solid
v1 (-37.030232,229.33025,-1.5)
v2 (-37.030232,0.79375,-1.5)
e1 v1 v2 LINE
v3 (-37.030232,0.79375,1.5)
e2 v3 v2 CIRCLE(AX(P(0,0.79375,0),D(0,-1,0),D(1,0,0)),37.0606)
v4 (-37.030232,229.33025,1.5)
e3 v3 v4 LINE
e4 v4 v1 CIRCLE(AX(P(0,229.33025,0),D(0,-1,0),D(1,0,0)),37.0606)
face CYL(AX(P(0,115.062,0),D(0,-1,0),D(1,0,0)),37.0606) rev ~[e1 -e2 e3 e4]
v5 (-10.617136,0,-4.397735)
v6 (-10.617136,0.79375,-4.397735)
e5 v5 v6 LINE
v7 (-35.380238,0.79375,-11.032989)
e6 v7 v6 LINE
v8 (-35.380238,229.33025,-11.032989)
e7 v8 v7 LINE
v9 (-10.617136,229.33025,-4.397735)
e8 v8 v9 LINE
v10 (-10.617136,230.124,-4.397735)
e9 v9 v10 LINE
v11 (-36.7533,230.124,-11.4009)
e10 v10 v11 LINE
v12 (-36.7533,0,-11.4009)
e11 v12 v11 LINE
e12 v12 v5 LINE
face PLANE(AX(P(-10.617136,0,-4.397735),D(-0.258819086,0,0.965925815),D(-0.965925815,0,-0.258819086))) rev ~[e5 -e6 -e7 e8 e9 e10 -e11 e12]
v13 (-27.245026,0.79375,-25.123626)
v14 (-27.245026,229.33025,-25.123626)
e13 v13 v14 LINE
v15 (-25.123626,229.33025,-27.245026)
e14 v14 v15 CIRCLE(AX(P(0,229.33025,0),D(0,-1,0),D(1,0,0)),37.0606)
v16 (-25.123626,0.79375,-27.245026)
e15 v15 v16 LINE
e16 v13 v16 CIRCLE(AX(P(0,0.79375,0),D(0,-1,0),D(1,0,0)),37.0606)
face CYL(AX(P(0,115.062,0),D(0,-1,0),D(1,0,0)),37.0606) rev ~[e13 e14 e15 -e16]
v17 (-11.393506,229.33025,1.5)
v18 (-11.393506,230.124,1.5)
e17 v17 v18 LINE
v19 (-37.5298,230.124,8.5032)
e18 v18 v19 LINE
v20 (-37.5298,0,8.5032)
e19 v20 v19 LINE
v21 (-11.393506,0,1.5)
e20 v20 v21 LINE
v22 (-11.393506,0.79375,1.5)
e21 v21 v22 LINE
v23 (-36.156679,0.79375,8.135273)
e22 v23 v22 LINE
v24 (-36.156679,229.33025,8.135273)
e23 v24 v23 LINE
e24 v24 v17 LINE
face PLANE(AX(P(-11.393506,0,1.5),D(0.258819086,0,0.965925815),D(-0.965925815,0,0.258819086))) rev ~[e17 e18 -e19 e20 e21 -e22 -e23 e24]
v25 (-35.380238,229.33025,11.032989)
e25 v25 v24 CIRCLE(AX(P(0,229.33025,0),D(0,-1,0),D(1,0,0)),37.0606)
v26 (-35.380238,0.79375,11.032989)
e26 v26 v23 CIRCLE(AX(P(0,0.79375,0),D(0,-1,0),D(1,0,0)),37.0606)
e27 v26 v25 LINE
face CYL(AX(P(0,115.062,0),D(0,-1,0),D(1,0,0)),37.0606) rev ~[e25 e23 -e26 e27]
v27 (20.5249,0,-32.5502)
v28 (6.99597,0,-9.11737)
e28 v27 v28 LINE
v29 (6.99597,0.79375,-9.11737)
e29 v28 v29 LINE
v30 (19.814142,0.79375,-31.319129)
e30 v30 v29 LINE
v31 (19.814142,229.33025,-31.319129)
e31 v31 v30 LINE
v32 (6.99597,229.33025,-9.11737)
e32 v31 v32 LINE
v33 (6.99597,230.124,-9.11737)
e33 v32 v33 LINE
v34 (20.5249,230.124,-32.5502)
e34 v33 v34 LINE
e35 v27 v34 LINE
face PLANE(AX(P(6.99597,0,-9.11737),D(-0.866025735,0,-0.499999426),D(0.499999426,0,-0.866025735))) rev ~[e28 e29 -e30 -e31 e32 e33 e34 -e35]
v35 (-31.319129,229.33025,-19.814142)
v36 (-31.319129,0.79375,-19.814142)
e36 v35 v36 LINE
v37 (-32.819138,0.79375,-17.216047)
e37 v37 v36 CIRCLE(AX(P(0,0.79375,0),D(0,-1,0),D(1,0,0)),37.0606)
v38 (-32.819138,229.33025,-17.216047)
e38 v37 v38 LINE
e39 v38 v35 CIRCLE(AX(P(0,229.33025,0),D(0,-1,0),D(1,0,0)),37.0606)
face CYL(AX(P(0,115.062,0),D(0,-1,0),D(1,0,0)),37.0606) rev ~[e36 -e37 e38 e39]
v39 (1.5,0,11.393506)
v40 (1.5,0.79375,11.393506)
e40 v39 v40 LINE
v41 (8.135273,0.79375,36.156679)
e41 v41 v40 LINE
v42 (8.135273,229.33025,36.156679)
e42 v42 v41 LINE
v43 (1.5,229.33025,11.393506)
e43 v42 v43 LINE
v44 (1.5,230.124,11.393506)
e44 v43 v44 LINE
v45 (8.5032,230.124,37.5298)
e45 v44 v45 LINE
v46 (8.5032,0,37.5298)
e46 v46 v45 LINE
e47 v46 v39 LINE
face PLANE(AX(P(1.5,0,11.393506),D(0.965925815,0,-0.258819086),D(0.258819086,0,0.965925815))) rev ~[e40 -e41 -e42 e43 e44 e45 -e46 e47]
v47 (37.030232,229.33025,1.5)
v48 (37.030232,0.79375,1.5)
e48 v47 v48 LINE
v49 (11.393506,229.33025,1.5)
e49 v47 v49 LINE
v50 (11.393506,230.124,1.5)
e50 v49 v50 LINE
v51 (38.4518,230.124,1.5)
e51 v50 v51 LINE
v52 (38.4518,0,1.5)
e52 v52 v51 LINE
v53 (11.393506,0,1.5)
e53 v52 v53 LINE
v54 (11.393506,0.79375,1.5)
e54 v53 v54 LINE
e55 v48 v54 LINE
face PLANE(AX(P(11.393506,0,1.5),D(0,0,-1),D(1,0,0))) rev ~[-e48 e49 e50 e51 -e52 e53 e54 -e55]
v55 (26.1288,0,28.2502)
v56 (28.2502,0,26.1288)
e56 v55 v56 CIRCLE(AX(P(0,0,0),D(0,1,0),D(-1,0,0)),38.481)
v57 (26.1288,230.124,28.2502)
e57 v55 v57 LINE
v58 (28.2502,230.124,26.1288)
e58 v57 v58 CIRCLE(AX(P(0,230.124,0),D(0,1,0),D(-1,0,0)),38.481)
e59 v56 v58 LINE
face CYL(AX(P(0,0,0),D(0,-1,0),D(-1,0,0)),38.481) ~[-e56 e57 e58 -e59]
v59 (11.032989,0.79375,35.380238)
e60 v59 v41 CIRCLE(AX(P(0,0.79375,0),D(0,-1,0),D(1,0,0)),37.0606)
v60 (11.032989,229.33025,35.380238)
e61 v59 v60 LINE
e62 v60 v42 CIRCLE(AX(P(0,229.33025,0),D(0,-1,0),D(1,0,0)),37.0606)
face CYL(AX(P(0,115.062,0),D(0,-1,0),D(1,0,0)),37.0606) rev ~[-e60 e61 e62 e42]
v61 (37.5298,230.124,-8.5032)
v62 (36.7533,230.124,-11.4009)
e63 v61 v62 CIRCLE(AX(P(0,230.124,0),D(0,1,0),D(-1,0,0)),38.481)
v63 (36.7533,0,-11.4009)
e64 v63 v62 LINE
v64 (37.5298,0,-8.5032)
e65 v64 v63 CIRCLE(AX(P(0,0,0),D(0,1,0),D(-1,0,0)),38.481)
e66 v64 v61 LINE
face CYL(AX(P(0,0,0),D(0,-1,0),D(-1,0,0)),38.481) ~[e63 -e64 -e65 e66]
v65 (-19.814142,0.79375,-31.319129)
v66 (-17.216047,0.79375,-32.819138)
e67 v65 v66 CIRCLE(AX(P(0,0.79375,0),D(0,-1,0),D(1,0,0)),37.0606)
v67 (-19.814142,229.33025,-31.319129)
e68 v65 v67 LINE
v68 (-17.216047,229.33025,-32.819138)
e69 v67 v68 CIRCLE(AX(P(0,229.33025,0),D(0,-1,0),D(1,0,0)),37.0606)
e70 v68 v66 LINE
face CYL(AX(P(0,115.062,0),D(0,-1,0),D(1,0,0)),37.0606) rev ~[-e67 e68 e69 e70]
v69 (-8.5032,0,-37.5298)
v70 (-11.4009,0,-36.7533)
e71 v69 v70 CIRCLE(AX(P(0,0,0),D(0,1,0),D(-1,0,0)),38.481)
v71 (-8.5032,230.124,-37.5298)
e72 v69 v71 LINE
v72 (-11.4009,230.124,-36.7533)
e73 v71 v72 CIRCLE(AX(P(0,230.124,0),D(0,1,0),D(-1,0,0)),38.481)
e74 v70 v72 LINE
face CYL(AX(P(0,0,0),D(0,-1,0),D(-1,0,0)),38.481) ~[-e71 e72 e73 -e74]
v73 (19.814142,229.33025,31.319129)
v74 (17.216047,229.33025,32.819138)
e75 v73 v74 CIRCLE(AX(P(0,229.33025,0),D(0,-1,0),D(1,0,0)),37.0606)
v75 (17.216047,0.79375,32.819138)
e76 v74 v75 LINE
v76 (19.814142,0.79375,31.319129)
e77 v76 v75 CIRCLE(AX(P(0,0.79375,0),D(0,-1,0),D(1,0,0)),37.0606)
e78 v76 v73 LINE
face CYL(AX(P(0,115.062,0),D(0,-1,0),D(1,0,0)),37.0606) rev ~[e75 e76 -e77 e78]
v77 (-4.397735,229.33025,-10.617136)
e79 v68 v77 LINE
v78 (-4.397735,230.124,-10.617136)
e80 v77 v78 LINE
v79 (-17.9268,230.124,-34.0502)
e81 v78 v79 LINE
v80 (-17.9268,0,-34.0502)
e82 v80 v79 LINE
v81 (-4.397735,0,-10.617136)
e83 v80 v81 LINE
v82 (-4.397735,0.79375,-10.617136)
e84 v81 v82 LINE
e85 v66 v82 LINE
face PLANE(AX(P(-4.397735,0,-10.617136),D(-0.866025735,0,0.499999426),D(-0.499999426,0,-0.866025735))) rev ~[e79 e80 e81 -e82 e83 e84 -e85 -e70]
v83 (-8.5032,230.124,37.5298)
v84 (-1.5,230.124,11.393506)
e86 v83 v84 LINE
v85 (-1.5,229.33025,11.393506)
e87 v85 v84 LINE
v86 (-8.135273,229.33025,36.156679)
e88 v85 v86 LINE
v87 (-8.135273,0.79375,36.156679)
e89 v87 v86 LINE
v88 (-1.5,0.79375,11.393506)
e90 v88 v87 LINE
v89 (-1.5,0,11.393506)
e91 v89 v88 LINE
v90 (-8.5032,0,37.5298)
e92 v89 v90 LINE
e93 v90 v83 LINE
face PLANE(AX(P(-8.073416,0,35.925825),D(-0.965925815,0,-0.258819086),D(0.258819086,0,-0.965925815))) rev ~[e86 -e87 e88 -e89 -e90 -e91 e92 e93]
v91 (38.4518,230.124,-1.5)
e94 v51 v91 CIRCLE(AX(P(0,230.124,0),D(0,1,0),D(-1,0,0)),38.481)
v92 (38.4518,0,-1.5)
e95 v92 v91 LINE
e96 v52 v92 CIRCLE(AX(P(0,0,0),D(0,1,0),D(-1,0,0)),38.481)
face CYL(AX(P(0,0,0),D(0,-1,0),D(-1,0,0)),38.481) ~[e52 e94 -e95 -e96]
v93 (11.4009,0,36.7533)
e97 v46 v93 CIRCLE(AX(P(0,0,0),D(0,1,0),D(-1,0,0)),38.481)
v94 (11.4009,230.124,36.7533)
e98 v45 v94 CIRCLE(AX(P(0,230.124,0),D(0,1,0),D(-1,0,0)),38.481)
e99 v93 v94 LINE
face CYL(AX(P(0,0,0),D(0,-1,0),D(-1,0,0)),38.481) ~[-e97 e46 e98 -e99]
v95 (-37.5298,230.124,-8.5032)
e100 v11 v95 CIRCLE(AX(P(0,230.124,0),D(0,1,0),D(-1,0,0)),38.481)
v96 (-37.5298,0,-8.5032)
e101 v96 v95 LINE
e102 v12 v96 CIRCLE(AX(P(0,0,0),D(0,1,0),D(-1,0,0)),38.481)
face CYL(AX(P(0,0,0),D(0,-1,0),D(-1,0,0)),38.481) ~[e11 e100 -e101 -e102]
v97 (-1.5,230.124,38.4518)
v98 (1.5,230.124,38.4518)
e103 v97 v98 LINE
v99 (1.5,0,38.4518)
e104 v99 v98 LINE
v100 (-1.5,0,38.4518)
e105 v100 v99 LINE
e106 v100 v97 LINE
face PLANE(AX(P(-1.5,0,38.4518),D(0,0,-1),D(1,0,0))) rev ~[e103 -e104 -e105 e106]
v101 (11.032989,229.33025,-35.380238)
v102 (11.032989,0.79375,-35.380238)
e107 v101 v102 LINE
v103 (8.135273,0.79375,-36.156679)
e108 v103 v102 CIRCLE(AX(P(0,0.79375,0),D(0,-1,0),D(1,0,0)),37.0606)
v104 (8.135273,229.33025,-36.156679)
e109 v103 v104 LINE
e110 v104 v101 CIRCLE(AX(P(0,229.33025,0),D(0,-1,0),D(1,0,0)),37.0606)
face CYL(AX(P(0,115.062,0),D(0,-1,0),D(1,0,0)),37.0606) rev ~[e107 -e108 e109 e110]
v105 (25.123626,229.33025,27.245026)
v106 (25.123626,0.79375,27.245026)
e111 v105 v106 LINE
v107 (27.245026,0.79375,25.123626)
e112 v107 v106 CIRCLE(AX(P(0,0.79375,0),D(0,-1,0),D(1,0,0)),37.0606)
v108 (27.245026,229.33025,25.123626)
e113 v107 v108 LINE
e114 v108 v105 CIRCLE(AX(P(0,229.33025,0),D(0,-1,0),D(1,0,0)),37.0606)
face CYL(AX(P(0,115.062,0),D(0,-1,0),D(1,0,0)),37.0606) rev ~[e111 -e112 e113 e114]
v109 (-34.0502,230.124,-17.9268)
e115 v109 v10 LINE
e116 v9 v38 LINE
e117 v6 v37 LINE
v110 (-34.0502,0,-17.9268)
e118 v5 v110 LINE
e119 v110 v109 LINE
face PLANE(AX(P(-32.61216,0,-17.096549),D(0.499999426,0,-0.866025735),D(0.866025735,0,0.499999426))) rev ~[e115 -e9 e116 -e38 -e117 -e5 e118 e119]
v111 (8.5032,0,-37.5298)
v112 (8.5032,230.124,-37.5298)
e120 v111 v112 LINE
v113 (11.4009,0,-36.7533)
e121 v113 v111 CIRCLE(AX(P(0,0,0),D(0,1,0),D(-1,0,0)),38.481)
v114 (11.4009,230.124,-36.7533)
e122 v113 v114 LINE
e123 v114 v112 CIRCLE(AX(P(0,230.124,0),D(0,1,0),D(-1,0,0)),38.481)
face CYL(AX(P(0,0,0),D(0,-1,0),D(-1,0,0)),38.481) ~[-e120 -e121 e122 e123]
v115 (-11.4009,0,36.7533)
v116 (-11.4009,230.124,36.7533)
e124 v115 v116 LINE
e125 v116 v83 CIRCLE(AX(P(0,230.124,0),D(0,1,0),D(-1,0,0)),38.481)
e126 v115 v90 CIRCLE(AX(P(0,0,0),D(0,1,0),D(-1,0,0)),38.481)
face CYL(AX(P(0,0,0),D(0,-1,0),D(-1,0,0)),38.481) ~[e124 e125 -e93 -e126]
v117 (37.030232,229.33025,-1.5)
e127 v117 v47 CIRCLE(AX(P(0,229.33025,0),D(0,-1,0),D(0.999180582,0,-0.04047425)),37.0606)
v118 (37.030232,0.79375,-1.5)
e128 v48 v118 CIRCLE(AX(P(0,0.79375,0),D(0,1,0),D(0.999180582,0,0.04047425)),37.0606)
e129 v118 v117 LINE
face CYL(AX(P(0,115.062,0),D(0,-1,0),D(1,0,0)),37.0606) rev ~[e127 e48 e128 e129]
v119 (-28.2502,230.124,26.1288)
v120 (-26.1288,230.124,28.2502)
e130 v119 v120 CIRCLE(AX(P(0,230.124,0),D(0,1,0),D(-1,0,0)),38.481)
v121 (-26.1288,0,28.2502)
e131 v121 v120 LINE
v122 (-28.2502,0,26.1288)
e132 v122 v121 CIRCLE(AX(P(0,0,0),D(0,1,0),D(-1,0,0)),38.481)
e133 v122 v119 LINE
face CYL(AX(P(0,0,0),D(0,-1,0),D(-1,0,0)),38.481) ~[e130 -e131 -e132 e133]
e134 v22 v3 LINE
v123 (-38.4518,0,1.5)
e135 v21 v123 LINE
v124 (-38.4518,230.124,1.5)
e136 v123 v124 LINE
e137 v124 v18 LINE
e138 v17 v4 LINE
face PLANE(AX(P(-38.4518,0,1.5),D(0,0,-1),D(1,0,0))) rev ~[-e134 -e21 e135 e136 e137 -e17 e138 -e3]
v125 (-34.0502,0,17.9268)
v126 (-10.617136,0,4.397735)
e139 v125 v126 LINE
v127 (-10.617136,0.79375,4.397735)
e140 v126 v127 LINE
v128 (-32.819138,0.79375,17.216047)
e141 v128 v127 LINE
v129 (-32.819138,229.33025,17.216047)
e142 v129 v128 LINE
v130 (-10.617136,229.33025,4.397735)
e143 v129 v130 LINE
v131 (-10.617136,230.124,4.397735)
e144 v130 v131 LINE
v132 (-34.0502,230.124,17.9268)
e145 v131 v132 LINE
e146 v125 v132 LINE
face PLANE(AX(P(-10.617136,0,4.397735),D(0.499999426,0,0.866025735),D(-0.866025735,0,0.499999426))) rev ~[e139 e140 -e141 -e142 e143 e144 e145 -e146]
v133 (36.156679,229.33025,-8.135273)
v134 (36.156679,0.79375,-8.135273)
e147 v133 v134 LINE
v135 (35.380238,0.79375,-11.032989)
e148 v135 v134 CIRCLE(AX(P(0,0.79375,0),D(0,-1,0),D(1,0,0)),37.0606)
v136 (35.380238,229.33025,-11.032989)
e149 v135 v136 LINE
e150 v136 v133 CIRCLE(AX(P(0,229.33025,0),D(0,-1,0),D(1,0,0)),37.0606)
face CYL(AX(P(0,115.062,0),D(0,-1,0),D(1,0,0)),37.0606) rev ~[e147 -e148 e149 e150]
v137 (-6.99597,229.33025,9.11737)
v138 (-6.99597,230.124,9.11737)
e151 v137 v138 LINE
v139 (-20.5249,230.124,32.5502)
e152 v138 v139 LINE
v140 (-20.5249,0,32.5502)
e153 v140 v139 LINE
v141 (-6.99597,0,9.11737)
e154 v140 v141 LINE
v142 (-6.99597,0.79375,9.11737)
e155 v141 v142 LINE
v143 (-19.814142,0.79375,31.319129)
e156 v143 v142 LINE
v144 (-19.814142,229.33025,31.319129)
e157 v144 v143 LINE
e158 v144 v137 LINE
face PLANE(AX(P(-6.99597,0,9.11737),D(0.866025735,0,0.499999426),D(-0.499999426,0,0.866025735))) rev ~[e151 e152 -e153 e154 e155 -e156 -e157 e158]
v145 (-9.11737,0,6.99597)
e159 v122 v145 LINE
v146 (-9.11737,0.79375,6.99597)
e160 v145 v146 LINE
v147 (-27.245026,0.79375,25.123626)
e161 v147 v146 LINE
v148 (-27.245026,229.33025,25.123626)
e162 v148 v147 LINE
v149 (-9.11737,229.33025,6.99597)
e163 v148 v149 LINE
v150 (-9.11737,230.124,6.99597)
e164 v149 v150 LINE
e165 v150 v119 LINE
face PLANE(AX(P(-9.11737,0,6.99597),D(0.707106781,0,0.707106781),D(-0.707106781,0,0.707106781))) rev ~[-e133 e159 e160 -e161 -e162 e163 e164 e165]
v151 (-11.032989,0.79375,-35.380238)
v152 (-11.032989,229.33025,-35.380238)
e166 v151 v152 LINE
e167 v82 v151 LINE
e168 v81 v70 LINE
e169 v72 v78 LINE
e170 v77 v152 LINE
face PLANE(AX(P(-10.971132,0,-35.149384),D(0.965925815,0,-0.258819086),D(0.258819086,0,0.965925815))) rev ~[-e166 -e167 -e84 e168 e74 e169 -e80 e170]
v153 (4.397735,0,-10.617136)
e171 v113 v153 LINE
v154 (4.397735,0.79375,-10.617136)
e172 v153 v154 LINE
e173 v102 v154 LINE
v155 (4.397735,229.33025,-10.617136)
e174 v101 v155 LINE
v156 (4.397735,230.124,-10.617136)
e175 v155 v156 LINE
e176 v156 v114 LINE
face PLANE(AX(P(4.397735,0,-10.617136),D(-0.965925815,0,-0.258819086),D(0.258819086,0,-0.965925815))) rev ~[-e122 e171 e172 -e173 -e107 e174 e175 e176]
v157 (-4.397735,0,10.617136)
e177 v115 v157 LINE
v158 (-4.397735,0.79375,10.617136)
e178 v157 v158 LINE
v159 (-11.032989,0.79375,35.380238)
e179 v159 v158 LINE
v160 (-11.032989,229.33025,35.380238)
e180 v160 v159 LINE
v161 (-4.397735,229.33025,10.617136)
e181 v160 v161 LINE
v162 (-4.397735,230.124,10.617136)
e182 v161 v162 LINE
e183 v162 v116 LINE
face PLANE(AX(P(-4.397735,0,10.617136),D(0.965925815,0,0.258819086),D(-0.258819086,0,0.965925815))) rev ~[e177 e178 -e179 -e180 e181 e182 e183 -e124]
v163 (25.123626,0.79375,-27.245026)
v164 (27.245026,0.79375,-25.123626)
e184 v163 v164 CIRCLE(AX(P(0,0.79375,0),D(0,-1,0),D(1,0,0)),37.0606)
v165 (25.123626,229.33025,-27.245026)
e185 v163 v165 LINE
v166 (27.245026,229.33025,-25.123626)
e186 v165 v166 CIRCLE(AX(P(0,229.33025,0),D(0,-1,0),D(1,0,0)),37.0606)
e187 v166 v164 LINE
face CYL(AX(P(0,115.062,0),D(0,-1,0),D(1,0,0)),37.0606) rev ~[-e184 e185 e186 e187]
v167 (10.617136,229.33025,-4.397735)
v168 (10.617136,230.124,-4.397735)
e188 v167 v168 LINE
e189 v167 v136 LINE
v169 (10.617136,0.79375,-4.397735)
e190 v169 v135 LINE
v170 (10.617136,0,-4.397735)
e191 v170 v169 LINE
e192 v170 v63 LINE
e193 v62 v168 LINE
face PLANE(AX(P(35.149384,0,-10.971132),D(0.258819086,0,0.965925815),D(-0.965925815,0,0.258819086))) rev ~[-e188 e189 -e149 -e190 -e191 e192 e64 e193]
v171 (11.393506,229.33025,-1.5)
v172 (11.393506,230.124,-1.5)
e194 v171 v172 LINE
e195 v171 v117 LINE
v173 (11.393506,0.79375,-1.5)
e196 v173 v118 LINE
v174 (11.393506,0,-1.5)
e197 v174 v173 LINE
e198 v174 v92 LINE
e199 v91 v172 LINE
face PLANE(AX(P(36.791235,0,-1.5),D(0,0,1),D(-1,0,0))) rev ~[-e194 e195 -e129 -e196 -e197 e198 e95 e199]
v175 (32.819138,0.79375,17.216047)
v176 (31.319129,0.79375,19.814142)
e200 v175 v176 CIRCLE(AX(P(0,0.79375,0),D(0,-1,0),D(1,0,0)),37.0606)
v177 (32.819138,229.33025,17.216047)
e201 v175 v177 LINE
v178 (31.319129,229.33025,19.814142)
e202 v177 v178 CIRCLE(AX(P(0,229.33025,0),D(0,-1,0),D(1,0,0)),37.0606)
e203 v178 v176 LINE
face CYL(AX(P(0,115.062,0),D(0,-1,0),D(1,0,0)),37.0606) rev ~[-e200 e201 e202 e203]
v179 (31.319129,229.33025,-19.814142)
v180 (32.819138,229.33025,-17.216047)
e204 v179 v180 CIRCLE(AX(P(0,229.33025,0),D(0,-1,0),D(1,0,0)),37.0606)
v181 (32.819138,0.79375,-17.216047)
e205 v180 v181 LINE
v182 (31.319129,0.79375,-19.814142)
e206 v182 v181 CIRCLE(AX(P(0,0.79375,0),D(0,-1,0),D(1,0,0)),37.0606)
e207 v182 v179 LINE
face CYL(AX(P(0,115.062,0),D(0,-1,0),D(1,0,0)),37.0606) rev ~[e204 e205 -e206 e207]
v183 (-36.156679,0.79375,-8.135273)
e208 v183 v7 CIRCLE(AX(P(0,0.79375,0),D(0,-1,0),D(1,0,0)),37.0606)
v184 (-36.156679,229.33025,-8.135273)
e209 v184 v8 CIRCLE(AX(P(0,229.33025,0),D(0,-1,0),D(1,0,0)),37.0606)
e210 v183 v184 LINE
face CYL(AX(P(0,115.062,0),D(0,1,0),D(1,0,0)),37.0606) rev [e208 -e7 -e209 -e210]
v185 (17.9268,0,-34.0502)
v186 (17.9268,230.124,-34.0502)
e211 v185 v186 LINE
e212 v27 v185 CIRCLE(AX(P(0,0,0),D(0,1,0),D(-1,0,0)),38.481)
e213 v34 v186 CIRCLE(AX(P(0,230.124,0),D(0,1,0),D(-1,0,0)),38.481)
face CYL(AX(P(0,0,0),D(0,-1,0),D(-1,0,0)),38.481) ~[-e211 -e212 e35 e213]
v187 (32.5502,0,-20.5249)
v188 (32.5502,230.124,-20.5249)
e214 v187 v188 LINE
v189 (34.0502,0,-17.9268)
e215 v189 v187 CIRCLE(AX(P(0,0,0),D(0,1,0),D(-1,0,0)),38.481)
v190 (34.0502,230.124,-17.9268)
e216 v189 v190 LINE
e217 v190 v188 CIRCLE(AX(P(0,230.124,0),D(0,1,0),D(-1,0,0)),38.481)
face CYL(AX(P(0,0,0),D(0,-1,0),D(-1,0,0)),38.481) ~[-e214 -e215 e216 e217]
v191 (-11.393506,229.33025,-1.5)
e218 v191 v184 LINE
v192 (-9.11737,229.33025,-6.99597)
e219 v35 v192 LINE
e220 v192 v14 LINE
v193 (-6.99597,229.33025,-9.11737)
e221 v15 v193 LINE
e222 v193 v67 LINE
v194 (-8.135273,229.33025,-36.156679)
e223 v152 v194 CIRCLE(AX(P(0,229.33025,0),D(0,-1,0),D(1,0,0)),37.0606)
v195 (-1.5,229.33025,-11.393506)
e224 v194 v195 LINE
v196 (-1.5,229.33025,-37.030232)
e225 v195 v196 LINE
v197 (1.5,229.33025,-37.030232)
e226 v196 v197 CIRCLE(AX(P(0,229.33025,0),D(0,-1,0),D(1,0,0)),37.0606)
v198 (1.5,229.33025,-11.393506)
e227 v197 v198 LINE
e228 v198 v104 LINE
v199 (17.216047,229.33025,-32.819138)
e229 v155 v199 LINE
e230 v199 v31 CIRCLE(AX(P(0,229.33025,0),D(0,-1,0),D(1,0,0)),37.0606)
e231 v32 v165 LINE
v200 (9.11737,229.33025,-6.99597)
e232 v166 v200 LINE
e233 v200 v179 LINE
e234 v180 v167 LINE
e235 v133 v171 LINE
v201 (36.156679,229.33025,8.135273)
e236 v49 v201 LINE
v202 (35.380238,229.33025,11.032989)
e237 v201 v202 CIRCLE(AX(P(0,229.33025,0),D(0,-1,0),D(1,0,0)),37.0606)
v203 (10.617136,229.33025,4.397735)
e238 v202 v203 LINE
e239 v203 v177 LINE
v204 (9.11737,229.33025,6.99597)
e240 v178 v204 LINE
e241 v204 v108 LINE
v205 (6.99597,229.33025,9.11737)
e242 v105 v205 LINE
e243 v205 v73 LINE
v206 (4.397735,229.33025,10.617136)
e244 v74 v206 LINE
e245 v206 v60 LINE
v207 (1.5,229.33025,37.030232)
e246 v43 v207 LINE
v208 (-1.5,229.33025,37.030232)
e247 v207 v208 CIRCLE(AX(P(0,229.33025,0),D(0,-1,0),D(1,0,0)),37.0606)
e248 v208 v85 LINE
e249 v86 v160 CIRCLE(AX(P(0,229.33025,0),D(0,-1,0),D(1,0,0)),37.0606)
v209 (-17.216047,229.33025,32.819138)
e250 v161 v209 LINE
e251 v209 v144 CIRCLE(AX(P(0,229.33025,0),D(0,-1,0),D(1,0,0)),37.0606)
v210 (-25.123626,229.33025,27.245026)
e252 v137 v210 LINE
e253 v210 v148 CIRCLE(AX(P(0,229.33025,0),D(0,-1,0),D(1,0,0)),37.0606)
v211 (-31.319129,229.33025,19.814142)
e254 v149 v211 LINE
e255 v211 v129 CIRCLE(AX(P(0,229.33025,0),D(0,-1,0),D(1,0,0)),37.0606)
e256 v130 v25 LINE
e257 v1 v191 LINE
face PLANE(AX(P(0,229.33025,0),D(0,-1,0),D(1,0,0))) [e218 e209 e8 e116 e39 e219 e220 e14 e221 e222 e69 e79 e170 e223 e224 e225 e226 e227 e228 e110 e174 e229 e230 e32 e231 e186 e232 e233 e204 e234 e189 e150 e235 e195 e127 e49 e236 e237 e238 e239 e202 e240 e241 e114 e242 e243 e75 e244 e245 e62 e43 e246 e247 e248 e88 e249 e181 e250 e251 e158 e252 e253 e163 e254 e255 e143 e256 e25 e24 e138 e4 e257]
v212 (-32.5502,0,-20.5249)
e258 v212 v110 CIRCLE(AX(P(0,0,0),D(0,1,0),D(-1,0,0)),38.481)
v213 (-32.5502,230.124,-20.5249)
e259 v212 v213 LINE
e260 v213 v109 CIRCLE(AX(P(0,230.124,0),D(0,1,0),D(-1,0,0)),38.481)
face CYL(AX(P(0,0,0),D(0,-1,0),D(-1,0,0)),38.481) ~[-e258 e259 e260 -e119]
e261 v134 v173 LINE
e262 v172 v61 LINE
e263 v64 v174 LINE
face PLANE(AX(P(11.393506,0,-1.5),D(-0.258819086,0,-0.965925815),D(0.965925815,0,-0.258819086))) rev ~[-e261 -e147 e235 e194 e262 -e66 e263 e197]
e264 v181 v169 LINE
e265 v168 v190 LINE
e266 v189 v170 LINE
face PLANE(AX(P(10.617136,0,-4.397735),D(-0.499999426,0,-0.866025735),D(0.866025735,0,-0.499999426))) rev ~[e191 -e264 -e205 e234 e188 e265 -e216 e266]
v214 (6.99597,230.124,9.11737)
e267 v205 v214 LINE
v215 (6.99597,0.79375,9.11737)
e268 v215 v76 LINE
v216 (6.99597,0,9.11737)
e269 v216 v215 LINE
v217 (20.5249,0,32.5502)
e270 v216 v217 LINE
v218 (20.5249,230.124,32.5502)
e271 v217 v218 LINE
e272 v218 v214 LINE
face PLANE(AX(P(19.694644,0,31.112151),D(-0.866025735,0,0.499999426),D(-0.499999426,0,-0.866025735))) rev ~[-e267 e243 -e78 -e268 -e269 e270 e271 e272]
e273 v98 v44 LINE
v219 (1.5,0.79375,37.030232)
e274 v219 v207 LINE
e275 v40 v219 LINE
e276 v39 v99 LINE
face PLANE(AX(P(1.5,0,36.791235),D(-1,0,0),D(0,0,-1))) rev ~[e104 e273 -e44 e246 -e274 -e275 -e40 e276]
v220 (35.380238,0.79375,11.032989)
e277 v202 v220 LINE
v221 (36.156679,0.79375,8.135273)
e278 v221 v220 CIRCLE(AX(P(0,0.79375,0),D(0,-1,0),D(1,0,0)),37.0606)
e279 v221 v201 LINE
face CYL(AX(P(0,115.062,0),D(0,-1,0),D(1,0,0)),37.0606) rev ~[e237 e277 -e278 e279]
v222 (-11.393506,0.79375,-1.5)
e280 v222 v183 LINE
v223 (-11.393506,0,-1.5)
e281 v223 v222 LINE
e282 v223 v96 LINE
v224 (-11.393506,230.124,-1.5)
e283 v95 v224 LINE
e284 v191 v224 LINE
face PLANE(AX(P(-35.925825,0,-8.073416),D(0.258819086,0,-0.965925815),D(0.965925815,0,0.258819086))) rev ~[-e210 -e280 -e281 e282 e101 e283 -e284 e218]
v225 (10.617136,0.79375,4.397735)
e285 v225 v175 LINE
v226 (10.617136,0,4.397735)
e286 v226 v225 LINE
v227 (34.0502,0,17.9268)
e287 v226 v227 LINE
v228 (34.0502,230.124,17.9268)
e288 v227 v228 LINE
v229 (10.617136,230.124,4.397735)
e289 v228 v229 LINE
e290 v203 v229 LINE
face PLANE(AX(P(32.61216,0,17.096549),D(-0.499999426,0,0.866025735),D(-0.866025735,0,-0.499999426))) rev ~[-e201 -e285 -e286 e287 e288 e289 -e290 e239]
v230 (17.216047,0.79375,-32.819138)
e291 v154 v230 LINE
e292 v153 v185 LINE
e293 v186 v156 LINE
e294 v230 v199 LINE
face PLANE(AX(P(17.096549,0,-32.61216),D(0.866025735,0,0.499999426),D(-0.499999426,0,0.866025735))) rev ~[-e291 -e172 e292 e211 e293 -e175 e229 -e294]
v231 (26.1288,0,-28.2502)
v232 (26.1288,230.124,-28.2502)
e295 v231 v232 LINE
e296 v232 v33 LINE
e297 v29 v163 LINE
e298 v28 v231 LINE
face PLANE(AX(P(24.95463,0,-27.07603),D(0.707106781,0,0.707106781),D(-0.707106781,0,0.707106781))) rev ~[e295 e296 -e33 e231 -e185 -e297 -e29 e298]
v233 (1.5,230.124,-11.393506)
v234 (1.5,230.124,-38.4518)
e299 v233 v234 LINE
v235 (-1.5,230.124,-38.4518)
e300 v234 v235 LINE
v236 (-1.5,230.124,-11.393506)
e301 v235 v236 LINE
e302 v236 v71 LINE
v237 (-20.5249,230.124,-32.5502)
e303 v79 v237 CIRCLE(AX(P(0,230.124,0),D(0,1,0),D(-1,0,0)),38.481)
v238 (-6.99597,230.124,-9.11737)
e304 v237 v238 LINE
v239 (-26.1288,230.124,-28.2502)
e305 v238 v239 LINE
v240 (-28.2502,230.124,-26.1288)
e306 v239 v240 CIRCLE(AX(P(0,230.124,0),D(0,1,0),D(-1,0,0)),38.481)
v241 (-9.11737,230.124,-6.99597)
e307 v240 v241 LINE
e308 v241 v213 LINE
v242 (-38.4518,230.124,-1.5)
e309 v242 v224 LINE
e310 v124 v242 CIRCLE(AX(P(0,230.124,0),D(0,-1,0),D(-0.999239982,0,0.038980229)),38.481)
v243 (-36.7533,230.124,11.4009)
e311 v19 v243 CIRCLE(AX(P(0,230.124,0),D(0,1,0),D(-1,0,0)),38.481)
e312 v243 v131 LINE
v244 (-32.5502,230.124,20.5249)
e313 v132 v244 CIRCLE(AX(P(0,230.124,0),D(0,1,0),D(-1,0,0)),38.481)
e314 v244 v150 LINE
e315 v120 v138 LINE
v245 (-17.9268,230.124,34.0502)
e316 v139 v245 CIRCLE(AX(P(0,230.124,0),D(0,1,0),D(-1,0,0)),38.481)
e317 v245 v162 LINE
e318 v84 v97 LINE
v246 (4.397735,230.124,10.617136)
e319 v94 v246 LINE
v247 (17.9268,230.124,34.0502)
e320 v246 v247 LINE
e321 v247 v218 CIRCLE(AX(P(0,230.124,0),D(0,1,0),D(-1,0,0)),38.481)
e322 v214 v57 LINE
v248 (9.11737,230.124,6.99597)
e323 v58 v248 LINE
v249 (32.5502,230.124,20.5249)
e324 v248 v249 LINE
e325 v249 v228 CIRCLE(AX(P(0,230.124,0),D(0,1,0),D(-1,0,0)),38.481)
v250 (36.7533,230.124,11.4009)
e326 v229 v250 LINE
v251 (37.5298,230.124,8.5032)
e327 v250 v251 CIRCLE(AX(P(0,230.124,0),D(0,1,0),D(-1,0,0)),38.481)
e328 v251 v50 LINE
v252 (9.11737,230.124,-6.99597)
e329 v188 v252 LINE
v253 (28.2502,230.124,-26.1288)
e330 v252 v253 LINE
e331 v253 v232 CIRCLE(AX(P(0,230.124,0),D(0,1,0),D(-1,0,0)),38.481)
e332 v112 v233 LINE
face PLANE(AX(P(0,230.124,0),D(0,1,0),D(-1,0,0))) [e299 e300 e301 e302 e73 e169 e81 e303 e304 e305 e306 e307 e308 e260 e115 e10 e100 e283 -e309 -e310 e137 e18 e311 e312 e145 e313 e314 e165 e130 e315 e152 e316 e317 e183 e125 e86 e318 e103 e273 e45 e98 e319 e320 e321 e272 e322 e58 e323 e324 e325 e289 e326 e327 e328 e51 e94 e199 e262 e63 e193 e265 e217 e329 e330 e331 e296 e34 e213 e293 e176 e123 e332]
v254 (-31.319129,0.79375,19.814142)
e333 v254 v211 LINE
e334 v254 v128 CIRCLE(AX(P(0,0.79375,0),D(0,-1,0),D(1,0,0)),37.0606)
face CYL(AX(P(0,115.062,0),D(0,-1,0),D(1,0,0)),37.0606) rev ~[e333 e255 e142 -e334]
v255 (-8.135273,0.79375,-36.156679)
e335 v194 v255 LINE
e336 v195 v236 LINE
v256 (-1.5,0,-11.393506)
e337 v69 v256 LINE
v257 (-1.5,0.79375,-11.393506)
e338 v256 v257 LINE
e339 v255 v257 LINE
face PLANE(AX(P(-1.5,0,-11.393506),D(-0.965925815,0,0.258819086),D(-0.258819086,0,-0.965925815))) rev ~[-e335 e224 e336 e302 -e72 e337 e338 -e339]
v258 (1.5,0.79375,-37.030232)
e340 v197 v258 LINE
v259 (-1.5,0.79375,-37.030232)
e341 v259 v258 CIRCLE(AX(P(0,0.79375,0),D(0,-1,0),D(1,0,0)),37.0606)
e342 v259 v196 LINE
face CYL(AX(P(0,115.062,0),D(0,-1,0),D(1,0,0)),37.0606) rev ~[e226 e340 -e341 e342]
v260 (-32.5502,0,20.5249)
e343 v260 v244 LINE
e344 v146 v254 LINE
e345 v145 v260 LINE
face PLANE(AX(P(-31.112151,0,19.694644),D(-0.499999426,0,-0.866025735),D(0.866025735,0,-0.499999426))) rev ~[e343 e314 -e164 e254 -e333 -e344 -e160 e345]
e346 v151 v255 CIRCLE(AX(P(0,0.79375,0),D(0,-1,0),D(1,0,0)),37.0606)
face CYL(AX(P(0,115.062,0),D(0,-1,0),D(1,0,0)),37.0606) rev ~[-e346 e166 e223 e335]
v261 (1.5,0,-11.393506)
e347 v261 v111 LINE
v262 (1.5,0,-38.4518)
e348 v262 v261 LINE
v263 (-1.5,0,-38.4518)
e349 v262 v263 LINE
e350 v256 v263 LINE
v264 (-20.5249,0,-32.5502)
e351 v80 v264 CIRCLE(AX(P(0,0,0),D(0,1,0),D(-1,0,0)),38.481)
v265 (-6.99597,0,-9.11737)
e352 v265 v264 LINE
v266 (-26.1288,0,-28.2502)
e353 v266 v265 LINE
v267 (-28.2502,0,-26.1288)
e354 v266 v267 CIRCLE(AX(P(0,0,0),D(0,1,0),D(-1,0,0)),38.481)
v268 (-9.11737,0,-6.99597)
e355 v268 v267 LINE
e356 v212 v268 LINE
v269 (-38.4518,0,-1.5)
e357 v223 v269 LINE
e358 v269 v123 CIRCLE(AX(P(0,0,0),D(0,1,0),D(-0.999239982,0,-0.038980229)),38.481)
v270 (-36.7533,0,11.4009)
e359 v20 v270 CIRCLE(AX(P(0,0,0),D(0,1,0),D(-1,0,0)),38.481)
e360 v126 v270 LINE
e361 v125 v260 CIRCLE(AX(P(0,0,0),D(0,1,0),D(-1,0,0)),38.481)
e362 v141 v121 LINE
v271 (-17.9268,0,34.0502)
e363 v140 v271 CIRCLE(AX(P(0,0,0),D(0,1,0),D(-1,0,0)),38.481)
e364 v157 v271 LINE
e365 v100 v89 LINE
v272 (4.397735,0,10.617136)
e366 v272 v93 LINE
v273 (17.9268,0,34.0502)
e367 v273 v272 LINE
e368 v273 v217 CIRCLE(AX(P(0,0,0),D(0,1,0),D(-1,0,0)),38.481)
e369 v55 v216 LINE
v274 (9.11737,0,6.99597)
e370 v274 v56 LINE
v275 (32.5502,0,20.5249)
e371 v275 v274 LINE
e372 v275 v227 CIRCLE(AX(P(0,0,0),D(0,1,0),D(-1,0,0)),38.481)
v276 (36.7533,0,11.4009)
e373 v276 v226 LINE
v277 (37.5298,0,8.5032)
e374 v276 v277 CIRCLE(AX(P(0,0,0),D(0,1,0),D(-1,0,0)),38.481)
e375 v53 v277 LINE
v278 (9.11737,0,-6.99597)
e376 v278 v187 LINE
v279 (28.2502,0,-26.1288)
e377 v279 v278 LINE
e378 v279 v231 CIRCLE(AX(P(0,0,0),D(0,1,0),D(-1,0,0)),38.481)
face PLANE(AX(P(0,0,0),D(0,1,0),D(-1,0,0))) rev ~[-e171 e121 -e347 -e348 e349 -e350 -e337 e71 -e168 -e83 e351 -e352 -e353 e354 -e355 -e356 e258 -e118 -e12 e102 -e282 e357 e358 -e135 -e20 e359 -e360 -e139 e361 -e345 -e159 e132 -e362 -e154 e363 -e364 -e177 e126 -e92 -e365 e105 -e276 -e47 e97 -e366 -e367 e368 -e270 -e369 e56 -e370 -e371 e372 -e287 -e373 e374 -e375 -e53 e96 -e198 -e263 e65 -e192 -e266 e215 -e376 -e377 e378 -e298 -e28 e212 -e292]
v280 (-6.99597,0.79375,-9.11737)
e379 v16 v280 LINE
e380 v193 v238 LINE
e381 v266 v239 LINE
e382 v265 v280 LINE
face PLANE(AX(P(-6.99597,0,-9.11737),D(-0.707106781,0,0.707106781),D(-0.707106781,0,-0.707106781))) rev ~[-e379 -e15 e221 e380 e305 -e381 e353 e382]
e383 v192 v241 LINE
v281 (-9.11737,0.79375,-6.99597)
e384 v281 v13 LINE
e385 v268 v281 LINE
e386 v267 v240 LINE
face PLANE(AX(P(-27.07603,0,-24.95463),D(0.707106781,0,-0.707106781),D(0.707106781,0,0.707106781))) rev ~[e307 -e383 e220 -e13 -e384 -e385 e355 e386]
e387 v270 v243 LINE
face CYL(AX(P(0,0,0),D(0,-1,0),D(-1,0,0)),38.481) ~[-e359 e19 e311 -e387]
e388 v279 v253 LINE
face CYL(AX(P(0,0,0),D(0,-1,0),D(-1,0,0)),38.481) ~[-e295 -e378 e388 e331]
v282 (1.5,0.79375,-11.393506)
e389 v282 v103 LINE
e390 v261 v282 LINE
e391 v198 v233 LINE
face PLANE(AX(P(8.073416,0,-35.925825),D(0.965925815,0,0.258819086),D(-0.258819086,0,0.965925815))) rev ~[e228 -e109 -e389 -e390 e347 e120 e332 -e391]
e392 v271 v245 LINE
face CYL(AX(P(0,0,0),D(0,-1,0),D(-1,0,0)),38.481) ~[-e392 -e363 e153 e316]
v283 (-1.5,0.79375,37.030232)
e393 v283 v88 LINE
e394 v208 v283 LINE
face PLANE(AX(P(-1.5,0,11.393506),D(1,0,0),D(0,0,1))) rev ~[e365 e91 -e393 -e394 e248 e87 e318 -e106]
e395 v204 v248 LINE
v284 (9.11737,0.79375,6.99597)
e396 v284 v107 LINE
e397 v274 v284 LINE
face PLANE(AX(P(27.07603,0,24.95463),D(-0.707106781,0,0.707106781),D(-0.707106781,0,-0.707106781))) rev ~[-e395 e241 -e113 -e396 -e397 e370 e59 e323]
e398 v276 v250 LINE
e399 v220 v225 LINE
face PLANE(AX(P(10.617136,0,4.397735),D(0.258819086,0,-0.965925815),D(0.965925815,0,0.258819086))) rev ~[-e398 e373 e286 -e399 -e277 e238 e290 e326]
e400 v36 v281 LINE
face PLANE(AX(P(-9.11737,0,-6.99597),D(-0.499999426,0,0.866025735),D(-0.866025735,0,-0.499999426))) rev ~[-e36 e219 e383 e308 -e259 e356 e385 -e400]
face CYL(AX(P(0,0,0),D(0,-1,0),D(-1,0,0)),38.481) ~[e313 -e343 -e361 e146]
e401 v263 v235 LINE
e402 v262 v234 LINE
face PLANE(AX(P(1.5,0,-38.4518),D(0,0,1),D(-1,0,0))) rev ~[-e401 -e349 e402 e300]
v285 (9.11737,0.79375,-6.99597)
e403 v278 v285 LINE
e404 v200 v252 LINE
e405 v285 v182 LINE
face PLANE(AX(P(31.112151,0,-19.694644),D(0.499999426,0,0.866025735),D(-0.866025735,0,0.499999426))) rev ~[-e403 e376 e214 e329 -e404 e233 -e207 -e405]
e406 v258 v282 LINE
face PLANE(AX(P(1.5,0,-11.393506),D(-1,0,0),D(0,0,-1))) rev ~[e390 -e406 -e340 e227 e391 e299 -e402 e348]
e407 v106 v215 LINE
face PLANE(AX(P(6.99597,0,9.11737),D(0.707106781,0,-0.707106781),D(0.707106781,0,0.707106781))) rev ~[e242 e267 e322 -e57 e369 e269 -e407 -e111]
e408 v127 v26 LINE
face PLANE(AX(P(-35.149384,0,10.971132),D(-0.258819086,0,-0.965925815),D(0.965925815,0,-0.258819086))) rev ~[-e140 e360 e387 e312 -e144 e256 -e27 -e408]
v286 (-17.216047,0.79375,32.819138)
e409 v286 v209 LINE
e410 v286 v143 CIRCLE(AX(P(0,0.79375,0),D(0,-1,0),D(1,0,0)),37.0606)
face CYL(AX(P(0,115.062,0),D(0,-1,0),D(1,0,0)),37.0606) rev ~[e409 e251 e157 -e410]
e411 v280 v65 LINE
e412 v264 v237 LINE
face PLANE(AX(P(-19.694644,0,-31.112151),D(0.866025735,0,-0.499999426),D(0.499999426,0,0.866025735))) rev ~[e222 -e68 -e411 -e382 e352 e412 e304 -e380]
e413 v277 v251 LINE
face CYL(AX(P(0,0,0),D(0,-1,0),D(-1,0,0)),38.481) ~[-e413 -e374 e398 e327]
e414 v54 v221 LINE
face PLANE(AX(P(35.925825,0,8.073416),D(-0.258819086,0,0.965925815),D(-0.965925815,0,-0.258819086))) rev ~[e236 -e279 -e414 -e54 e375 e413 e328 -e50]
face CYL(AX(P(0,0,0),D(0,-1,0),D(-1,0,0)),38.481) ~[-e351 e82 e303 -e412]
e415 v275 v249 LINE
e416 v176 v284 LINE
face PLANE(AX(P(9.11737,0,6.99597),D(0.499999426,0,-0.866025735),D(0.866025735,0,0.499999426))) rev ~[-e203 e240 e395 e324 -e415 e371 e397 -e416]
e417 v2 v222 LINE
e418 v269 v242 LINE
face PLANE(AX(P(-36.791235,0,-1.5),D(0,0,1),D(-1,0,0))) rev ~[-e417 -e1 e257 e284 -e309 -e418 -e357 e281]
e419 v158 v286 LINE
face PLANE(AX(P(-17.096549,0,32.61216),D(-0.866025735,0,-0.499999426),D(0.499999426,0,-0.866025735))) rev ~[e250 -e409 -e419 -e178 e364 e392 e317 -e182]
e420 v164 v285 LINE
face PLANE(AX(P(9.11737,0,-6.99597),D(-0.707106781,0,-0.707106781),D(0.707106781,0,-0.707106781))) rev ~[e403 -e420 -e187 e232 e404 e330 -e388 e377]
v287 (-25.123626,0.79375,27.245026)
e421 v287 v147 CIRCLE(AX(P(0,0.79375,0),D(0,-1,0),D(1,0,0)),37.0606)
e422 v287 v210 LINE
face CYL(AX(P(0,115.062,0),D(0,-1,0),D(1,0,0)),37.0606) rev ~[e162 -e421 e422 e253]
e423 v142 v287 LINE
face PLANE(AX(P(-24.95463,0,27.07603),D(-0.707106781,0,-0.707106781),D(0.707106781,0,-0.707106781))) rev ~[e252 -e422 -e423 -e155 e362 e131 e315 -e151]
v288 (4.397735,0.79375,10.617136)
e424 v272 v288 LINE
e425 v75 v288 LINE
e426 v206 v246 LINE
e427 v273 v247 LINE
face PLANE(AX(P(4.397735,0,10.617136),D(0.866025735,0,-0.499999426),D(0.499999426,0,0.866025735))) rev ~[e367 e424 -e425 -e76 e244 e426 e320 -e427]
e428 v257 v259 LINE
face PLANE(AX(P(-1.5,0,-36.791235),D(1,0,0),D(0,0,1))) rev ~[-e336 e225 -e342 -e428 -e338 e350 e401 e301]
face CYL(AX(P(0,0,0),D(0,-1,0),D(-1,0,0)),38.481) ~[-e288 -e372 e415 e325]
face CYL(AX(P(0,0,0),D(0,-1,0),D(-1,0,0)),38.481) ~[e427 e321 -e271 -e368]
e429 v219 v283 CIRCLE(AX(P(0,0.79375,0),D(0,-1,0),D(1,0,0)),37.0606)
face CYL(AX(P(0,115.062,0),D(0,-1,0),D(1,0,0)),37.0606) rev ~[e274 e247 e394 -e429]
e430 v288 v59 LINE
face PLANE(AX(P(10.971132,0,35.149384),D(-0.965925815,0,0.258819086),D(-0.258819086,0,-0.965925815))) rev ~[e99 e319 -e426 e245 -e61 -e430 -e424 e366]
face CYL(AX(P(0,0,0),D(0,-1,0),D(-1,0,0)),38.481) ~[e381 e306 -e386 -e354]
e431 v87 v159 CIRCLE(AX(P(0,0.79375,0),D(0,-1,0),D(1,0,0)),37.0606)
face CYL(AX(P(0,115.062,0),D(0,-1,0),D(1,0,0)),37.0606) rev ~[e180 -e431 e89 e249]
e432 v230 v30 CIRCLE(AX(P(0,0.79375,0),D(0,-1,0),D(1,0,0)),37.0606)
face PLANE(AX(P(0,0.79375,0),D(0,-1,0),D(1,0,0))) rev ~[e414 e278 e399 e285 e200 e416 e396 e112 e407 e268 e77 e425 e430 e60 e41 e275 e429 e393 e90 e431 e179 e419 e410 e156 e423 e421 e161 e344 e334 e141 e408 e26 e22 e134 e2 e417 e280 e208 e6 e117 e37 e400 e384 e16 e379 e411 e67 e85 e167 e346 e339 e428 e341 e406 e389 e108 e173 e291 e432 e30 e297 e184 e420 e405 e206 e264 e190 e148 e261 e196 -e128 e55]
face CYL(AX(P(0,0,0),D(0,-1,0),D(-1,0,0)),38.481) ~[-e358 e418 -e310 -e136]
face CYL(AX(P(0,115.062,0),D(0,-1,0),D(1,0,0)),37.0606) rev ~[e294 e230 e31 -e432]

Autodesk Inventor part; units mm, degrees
ref_plane "YZ Plane" through (0, 0, 0) normal (1, 0, 0) x (0, 1, 0)
ref_plane "XZ Plane" through (0, 0, 0) normal (0, 1, 0) x (-1, 0, 0)
sketch "Boceto1" plane through (0, 0, 0) normal (0, 1, 0) x (-1, 0, 0)
  circle A0 centre (0, 0) radius 38.481
  line L0 (1.5, 38.4518) -> (-1.5, 38.4518)
  line L1 (-1.5, 38.4518) -> (-1.5, -38.4518)
  line L2 (-1.5, -38.4518) -> (1.5, -38.4518)
  line L3 (1.5, -38.4518) -> (1.5, 38.4518)
  line L4 (1.5, 38.4518) -> (-1.5, -38.4518) construction
  line L5 (-1.5, 38.4518) -> (1.5, -38.4518) construction
  line L6 (-11.4009, 36.7533) -> (8.5032, -37.5298)
  line L7 (11.4009, -36.7533) -> (-8.5032, 37.5298)
  circle A1 centre (0, 0) radius 38.481
  line L8 (-20.5249, 32.5502) -> (17.9268, -34.0502)
  line L9 (20.5249, -32.5502) -> (-17.9268, 34.0502)
  circle A2 centre (0, 0) radius 38.481
  line L10 (-28.2502, 26.1288) -> (26.1288, -28.2502)
  line L11 (28.2502, -26.1288) -> (-26.1288, 28.2502)
  circle A3 centre (0, 0) radius 38.481
  line L12 (-34.0502, 17.9268) -> (32.5502, -20.5249)
  line L13 (34.0502, -17.9268) -> (-32.5502, 20.5249)
  circle A4 centre (0, 0) radius 38.481
  line L14 (-37.5298, 8.5032) -> (36.7533, -11.4009)
  line L15 (37.5298, -8.5032) -> (-36.7533, 11.4009)
  circle A5 centre (0, 0) radius 38.481
  line L16 (-38.4518, -1.5) -> (38.4518, -1.5)
  line L17 (38.4518, 1.5) -> (-38.4518, 1.5)
  circle A6 centre (0, 0) radius 38.481
  line L18 (-36.7533, -11.4009) -> (37.5298, 8.5032)
  line L19 (36.7533, 11.4009) -> (-37.5298, -8.5032)
  circle A7 centre (0, 0) radius 38.481
  line L20 (-32.5502, -20.5249) -> (34.0502, 17.9268)
  line L21 (32.5502, 20.5249) -> (-34.0502, -17.9268)
  circle A8 centre (0, 0) radius 38.481
  line L22 (-26.1288, -28.2502) -> (28.2502, 26.1288)
  line L23 (26.1288, 28.2502) -> (-28.2502, -26.1288)
  circle A9 centre (0, 0) radius 38.481
  line L24 (-17.9268, -34.0502) -> (20.5249, 32.5502)
  line L25 (17.9268, 34.0502) -> (-20.5249, -32.5502)
  circle A10 centre (0, 0) radius 38.481
  line L26 (-8.5032, -37.5298) -> (11.4009, 36.7533)
  line L27 (8.5032, 37.5298) -> (-11.4009, -36.7533)
  circle A11 centre (0, 0) radius 38.481
  line L28 (1.5, -38.4518) -> (1.5, 38.4518)
  line L29 (-1.5, 38.4518) -> (-1.5, -38.4518)
  circle A12 centre (0, 0) radius 38.481
  line L30 (11.4009, -36.7533) -> (-8.5032, 37.5298)
  line L31 (-11.4009, 36.7533) -> (8.5032, -37.5298)
  circle A13 centre (0, 0) radius 38.481
  line L32 (20.5249, -32.5502) -> (-17.9268, 34.0502)
  line L33 (-20.5249, 32.5502) -> (17.9268, -34.0502)
  circle A14 centre (0, 0) radius 38.481
  line L34 (28.2502, -26.1288) -> (-26.1288, 28.2502)
  line L35 (-28.2502, 26.1288) -> (26.1288, -28.2502)
  circle A15 centre (0, 0) radius 38.481
  line L36 (34.0502, -17.9268) -> (-32.5502, 20.5249)
  line L37 (-34.0502, 17.9268) -> (32.5502, -20.5249)
  circle A16 centre (0, 0) radius 38.481
  line L38 (37.5298, -8.5032) -> (-36.7533, 11.4009)
  line L39 (-37.5298, 8.5032) -> (36.7533, -11.4009)
  circle A17 centre (0, 0) radius 38.481
  line L40 (38.4518, 1.5) -> (-38.4518, 1.5)
  line L41 (-38.4518, -1.5) -> (38.4518, -1.5)
  circle A18 centre (0, 0) radius 38.481
  line L42 (36.7533, 11.4009) -> (-37.5298, -8.5032)
  line L43 (-36.7533, -11.4009) -> (37.5298, 8.5032)
  circle A19 centre (0, 0) radius 38.481
  line L44 (32.5502, 20.5249) -> (-34.0502, -17.9268)
  line L45 (-32.5502, -20.5249) -> (34.0502, 17.9268)
  circle A20 centre (0, 0) radius 38.481
  line L46 (26.1288, 28.2502) -> (-28.2502, -26.1288)
  line L47 (-26.1288, -28.2502) -> (28.2502, 26.1288)
  circle A21 centre (0, 0) radius 38.481
  line L48 (17.9268, 34.0502) -> (-20.5249, -32.5502)
  line L49 (-17.9268, -34.0502) -> (20.5249, 32.5502)
  circle A22 centre (0, 0) radius 38.481
  line L50 (8.5032, 37.5298) -> (-11.4009, -36.7533)
  line L51 (-8.5032, -37.5298) -> (11.4009, 36.7533)
  circle A23 centre (0, 0) radius 38.481
  circle A24 centre (0, 0) radius 36.8218
  point P0 (4.3978, -10.6172)
  point P1 (6.9959, -9.1172)
  point P2 (9.1172, -6.9959)
  point P3 (10.6172, -4.3978)
  point P4 (11.3936, -1.5)
  point P5 (11.3936, 1.5)
  point P6 (10.6172, 4.3978)
  point P7 (34.0502, 17.9268)
  point P8 (9.1172, 6.9959)
  point P9 (6.9959, 9.1172)
  point P10 (4.3978, 10.6172)
  point P11 (1.5, 11.3936)
  point P12 (-1.5, 11.3936)
  point P13 (-4.3978, 10.6172)
  point P14 (-6.9959, 9.1172)
  point P15 (-9.1172, 6.9959)
  point P16 (-11.3936, 1.5)
  point P17 (-11.3936, -1.5)
  point P18 (-10.6172, -4.3978)
  point P19 (-34.0502, -17.9268)
  point P20 (-9.1172, -6.9959)
  point P21 (-6.9959, -9.1172)
  point P22 (-4.3978, -10.6172)
  point P23 (-1.5, -11.3936)
  point P24 (1.5, -11.3936)
  point P25 (-10.6172, 4.3978)
  dimension "d0" = 76.962
  dimension "d1" = 3
  dimension "d4" = 360
extrude "Extrusión1" add sketch "Boceto1" along normal blind 230.124 contours A0 L16 A24 L17 | L18 A24 L19 A0 | A24 L16 L15 L18 L17 | A0 L14 A24 L15 | L18 L17 L20 L19 A24 | L18 L15 L20 L17 | A24 L14 L13 L16 L15 | L16 L13 L18 L15 | L20 A24 L21 A0 | L20 L15 L22 L17 | L17 L22 L19 L20 | L18 L13 L20 L15 | A0 L12 A24 L13 | L16 L11 L18 L13 | L13 L14 L11 L16 | L20 L19 L22 L21 A24 | L22 L15 L24 L17 | L17 L24 L19 L22 | L20 L13 L22 L15 | L18 L11 L20 L13 | A24 L12 L11 L14 L13 | L16 L9 L18 L11 | L11 L14 L9 L16 | L22 A24 L23 A0 | L19 L24 L21 L22 | L24 L15 L26 L17 | L17 L26 L19 L24 | L22 L13 L24 L15 | L20 L11 L22 L13 | L18 L9 L20 L11 | A0 L10 A24 L11 | L11 L12 L9 L14 | L16 L7 L18 L9 | L9 L14 L7 L16 | L22 L21 L24 L23 A24 | L19 L26 L21 L24 | L26 L15 L3 L17 | L17 L3 L19 L26 | L24 L13 L26 L15 | L22 L11 L24 L13 | L20 L9 L22 L11 | L18 L7 L20 L9 | A24 L10 L9 L12 L11 | L9 L12 L7 L14 | L16 L3 L18 L7 | L7 L14 L3 L16 | L24 A24 L25 A0 | L21 L26 L23 L24 | L19 L3 L21 L26 | L17 L7 L19 L3 | L3 L15 L7 L17 | L26 L13 L3 L15 | L24 L11 L26 L13 | L22 L9 L24 L11 | L20 L7 L22 L9 | L18 L3 L20 L7 | A0 L8 A24 L9 | L9 L10 L7 L12 | L7 L12 L3 L14 | L16 L26 L18 L3 | L3 L14 L26 L16 | L24 L23 L26 L25 A24 | L21 L3 L23 L26 | L19 L7 L21 L3 | L3 L13 L7 L15 | L17 L9 L19 L7 | L7 L15 L9 L17 | L26 L11 L3 L13 | L24 L9 L26 L11 | L22 L7 L24 L9 | L20 L3 L22 L7 | L18 L26 L20 L3 | A24 L8 L7 L10 L9 | L7 L10 L3 L12 | L3 L12 L26 L14 | L26 L14 L24 L16 | L16 L24 L18 L26 | L26 A24 L27 A0 | L23 L3 L25 L26 | L21 L7 L23 L3 | L19 L9 L21 L7 | L3 L11 L7 L13 | L7 L13 L9 L15 | L17 L11 L19 L9 | L9 L15 L11 L17 | L26 L9 L3 L11 | L24 L7 L26 L9 | L22 L3 L24 L7 | L20 L26 L22 L3 | L18 L24 L20 L26 | A0 L6 A24 L7 | L7 L8 L3 L10 | L3 L10 L26 L12 | L26 L12 L24 L14 | L24 L14 L22 L16 | L16 L22 L18 L24 | L26 L25 L3 L27 A24 | L23 L7 L25 L3 | L21 L9 L23 L7 | L19 L11 L21 L9 | L3 L9 L7 L11 | L7 L11 L9 L13 | L9 L13 L11 L15 | L17 L13 L19 L11 | L11 L15 L13 L17 | L26 L7 L3 L9 | L24 L3 L26 L7 | L22 L26 L24 L3 | L20 L24 L22 L26 | L18 L22 L20 L24 | A24 L6 L3 L8 L7 | L3 L8 L26 L10 | L26 L10 L24 L12 | L24 L12 L22 L14 | L22 L14 L20 L16 | L16 L20 L18 L22 | L3 A24 L1 L0 | L25 L7 L27 L3 | L23 L9 L25 L7 | L21 L11 L23 L9 | L19 L13 L21 L11 | L3 L7 L9 | L7 L9 L11 | L9 L11 L13 | L11 L13 L15 | L17 L15 L19 L13 | L13 L15 L17 | L26 L3 L7 | L24 L26 L3 | L22 L24 L26 | L20 L22 L24 | L18 L20 L22 | L2 L1 A24 L3 | L3 L6 L26 L8 | L26 L8 L24 L10 | L24 L10 L22 L12 | L22 L12 L20 L14 | L20 L14 L18 L16 | L16 L18 L20 | L3 L27 L7 L1 A24 | L25 L9 L27 L7 | L23 L11 L25 L9 | L21 L13 L23 L11 | L19 L15 L21 L13 | L3 L26 L24 L22 L20 L18 L16 L14 L12 L10 L8 L6 L1 L27 L25 L23 L21 L19 L17 L15 L13 L11 L9 L7 | L17 L19 L15 | A24 L1 L26 L6 L3 | L26 L6 L24 L8 | L24 L8 L22 L10 | L22 L10 L20 L12 | L20 L12 L18 L14 | L18 L14 L16 | L7 A24 L6 A0 | L27 L9 L1 L7 | L25 L11 L27 L9 | L23 L13 L25 L11 | L21 L15 L23 L13 | L19 L17 L21 L15 | L19 L21 L17 | A0 L27 A24 L26 | L26 L1 L24 L6 | L24 L6 L22 L8 | L22 L8 L20 L10 | L20 L10 L18 L12 | L18 L12 L16 L14 | L16 L12 L14 | L7 L1 L9 L6 A24 | L27 L11 L1 L9 | L25 L13 L27 L11 | L23 L15 L25 L13 | L21 L17 L23 L15 | L21 L19 L23 L17 | L21 L23 L19 | A24 L27 L24 L1 L26 | L24 L1 L22 L6 | L22 L6 L20 L8 | L20 L8 L18 L10 | L18 L10 L16 L12 | L14 L10 L12 | L12 L16 L10 L14 | L9 A24 L8 A0 | L1 L11 L6 L9 | L27 L13 L1 L11 | L25 L15 L27 L13 | L23 L17 L25 L15 | L23 L19 L25 L17 | L23 L21 L25 L19 | L23 L25 L21 | A0 L25 A24 L24 | L24 L27 L22 L1 | L22 L1 L20 L6 | L20 L6 L18 L8 | L18 L8 L16 L10 | L12 L8 L10 | L10 L14 L8 L12 | L10 L16 L8 L14 | L9 L6 L11 L8 A24 | L1 L13 L6 L11 | L27 L15 L1 L13 | L25 L17 L27 L15 | L25 L19 L27 L17 | L25 L21 L27 L19 | L25 L23 L27 L21 | L25 L27 L23 | A24 L25 L22 L27 L24 | L22 L27 L20 L1 | L20 L1 L18 L6 | L18 L6 L16 L8 | L10 L6 L8 | L8 L12 L6 L10 | L8 L14 L6 L12 | L8 L16 L6 L14 | L11 A24 L10 A0 | L6 L13 L8 L11 | L1 L15 L6 L13 | L27 L17 L1 L15 | L27 L19 L1 L17 | L27 L21 L1 L19 | L27 L23 L1 L21 | L27 L25 L1 L23 | L27 L1 L25 | A0 L23 A24 L22 | L22 L25 L20 L27 | L20 L27 L18 L1 | L18 L1 L16 L6 | L8 L1 L6 | L6 L10 L1 L8 | L6 L12 L1 L10 | L6 L14 L1 L12 | L6 L16 L1 L14 | L11 L8 L13 L10 A24 | L6 L15 L8 L13 | L1 L17 L6 L15 | L1 L19 L6 L17 | L1 L21 L6 L19 | L1 L23 L6 L21 | L1 L25 L6 L23 | L1 L27 L6 L25 | L1 L6 L27 | A24 L23 L20 L25 L22 | L20 L25 L18 L27 | L18 L27 L16 L1 | L1 L8 L27 L6 | L1 L10 L27 L8 | L1 L12 L27 L10 | L1 L14 L27 L12 | L1 L16 L27 L14 | L13 A24 L12 A0 | L8 L15 L10 L13 | L6 L17 L8 L15 | L6 L19 L8 L17 | L6 L21 L8 L19 | L6 L23 L8 L21 | L6 L25 L8 L23 | L6 L27 L8 L25 | A0 L21 A24 L20 | L20 L23 L18 L25 | L18 L25 L16 L27 | L27 L10 L25 L8 | L27 L12 L25 L10 | L27 L14 L25 L12 | L27 L16 L25 L14 | L13 L10 L15 L12 A24 | L8 L17 L10 L15 | L8 L19 L10 L17 | L8 L21 L10 L19 | L8 L23 L10 L21 | L8 L25 L10 L23 | A24 L21 L18 L23 L20 | L18 L23 L16 L25 | L25 L12 L23 L10 | L25 L14 L23 L12 | L25 L16 L23 L14 | L15 A24 L14 A0 | L10 L17 L12 L15 | L10 L19 L12 L17 | L10 L21 L12 L19 | L10 L23 L12 L21 | A0 L19 A24 L18 | L18 L21 L16 L23 | L23 L14 L21 L12 | L23 L16 L21 L14 | L15 L12 L17 L14 A24 | L12 L19 L14 L17 | L12 L21 L14 L19 | A24 L19 L16 L21 L18 | L21 L16 L19 L14 | L17 A24 L16 A0 | L14 L19 L16 A24 L17
sketch "Boceto2" plane through (0, 0, 0) normal (0, -1, 0) x (1, 0, 0)
  circle A0 centre (0, 0) radius 43.7891
ref_plane "Plano de trabajo1" through (0, 115.062, 0) normal (0, -1, 0) x (1, 0, 0)
sketch "Boceto3" plane through (0, 115.062, 0) normal (0, -1, 0) x (1, 0, 0)
  circle A0 centre (0, 0) radius 37.0606
extrude "Extrusión2" cut sketch "Boceto3" along normal mid plane 228.5365
properties part number "Liga recolector"
